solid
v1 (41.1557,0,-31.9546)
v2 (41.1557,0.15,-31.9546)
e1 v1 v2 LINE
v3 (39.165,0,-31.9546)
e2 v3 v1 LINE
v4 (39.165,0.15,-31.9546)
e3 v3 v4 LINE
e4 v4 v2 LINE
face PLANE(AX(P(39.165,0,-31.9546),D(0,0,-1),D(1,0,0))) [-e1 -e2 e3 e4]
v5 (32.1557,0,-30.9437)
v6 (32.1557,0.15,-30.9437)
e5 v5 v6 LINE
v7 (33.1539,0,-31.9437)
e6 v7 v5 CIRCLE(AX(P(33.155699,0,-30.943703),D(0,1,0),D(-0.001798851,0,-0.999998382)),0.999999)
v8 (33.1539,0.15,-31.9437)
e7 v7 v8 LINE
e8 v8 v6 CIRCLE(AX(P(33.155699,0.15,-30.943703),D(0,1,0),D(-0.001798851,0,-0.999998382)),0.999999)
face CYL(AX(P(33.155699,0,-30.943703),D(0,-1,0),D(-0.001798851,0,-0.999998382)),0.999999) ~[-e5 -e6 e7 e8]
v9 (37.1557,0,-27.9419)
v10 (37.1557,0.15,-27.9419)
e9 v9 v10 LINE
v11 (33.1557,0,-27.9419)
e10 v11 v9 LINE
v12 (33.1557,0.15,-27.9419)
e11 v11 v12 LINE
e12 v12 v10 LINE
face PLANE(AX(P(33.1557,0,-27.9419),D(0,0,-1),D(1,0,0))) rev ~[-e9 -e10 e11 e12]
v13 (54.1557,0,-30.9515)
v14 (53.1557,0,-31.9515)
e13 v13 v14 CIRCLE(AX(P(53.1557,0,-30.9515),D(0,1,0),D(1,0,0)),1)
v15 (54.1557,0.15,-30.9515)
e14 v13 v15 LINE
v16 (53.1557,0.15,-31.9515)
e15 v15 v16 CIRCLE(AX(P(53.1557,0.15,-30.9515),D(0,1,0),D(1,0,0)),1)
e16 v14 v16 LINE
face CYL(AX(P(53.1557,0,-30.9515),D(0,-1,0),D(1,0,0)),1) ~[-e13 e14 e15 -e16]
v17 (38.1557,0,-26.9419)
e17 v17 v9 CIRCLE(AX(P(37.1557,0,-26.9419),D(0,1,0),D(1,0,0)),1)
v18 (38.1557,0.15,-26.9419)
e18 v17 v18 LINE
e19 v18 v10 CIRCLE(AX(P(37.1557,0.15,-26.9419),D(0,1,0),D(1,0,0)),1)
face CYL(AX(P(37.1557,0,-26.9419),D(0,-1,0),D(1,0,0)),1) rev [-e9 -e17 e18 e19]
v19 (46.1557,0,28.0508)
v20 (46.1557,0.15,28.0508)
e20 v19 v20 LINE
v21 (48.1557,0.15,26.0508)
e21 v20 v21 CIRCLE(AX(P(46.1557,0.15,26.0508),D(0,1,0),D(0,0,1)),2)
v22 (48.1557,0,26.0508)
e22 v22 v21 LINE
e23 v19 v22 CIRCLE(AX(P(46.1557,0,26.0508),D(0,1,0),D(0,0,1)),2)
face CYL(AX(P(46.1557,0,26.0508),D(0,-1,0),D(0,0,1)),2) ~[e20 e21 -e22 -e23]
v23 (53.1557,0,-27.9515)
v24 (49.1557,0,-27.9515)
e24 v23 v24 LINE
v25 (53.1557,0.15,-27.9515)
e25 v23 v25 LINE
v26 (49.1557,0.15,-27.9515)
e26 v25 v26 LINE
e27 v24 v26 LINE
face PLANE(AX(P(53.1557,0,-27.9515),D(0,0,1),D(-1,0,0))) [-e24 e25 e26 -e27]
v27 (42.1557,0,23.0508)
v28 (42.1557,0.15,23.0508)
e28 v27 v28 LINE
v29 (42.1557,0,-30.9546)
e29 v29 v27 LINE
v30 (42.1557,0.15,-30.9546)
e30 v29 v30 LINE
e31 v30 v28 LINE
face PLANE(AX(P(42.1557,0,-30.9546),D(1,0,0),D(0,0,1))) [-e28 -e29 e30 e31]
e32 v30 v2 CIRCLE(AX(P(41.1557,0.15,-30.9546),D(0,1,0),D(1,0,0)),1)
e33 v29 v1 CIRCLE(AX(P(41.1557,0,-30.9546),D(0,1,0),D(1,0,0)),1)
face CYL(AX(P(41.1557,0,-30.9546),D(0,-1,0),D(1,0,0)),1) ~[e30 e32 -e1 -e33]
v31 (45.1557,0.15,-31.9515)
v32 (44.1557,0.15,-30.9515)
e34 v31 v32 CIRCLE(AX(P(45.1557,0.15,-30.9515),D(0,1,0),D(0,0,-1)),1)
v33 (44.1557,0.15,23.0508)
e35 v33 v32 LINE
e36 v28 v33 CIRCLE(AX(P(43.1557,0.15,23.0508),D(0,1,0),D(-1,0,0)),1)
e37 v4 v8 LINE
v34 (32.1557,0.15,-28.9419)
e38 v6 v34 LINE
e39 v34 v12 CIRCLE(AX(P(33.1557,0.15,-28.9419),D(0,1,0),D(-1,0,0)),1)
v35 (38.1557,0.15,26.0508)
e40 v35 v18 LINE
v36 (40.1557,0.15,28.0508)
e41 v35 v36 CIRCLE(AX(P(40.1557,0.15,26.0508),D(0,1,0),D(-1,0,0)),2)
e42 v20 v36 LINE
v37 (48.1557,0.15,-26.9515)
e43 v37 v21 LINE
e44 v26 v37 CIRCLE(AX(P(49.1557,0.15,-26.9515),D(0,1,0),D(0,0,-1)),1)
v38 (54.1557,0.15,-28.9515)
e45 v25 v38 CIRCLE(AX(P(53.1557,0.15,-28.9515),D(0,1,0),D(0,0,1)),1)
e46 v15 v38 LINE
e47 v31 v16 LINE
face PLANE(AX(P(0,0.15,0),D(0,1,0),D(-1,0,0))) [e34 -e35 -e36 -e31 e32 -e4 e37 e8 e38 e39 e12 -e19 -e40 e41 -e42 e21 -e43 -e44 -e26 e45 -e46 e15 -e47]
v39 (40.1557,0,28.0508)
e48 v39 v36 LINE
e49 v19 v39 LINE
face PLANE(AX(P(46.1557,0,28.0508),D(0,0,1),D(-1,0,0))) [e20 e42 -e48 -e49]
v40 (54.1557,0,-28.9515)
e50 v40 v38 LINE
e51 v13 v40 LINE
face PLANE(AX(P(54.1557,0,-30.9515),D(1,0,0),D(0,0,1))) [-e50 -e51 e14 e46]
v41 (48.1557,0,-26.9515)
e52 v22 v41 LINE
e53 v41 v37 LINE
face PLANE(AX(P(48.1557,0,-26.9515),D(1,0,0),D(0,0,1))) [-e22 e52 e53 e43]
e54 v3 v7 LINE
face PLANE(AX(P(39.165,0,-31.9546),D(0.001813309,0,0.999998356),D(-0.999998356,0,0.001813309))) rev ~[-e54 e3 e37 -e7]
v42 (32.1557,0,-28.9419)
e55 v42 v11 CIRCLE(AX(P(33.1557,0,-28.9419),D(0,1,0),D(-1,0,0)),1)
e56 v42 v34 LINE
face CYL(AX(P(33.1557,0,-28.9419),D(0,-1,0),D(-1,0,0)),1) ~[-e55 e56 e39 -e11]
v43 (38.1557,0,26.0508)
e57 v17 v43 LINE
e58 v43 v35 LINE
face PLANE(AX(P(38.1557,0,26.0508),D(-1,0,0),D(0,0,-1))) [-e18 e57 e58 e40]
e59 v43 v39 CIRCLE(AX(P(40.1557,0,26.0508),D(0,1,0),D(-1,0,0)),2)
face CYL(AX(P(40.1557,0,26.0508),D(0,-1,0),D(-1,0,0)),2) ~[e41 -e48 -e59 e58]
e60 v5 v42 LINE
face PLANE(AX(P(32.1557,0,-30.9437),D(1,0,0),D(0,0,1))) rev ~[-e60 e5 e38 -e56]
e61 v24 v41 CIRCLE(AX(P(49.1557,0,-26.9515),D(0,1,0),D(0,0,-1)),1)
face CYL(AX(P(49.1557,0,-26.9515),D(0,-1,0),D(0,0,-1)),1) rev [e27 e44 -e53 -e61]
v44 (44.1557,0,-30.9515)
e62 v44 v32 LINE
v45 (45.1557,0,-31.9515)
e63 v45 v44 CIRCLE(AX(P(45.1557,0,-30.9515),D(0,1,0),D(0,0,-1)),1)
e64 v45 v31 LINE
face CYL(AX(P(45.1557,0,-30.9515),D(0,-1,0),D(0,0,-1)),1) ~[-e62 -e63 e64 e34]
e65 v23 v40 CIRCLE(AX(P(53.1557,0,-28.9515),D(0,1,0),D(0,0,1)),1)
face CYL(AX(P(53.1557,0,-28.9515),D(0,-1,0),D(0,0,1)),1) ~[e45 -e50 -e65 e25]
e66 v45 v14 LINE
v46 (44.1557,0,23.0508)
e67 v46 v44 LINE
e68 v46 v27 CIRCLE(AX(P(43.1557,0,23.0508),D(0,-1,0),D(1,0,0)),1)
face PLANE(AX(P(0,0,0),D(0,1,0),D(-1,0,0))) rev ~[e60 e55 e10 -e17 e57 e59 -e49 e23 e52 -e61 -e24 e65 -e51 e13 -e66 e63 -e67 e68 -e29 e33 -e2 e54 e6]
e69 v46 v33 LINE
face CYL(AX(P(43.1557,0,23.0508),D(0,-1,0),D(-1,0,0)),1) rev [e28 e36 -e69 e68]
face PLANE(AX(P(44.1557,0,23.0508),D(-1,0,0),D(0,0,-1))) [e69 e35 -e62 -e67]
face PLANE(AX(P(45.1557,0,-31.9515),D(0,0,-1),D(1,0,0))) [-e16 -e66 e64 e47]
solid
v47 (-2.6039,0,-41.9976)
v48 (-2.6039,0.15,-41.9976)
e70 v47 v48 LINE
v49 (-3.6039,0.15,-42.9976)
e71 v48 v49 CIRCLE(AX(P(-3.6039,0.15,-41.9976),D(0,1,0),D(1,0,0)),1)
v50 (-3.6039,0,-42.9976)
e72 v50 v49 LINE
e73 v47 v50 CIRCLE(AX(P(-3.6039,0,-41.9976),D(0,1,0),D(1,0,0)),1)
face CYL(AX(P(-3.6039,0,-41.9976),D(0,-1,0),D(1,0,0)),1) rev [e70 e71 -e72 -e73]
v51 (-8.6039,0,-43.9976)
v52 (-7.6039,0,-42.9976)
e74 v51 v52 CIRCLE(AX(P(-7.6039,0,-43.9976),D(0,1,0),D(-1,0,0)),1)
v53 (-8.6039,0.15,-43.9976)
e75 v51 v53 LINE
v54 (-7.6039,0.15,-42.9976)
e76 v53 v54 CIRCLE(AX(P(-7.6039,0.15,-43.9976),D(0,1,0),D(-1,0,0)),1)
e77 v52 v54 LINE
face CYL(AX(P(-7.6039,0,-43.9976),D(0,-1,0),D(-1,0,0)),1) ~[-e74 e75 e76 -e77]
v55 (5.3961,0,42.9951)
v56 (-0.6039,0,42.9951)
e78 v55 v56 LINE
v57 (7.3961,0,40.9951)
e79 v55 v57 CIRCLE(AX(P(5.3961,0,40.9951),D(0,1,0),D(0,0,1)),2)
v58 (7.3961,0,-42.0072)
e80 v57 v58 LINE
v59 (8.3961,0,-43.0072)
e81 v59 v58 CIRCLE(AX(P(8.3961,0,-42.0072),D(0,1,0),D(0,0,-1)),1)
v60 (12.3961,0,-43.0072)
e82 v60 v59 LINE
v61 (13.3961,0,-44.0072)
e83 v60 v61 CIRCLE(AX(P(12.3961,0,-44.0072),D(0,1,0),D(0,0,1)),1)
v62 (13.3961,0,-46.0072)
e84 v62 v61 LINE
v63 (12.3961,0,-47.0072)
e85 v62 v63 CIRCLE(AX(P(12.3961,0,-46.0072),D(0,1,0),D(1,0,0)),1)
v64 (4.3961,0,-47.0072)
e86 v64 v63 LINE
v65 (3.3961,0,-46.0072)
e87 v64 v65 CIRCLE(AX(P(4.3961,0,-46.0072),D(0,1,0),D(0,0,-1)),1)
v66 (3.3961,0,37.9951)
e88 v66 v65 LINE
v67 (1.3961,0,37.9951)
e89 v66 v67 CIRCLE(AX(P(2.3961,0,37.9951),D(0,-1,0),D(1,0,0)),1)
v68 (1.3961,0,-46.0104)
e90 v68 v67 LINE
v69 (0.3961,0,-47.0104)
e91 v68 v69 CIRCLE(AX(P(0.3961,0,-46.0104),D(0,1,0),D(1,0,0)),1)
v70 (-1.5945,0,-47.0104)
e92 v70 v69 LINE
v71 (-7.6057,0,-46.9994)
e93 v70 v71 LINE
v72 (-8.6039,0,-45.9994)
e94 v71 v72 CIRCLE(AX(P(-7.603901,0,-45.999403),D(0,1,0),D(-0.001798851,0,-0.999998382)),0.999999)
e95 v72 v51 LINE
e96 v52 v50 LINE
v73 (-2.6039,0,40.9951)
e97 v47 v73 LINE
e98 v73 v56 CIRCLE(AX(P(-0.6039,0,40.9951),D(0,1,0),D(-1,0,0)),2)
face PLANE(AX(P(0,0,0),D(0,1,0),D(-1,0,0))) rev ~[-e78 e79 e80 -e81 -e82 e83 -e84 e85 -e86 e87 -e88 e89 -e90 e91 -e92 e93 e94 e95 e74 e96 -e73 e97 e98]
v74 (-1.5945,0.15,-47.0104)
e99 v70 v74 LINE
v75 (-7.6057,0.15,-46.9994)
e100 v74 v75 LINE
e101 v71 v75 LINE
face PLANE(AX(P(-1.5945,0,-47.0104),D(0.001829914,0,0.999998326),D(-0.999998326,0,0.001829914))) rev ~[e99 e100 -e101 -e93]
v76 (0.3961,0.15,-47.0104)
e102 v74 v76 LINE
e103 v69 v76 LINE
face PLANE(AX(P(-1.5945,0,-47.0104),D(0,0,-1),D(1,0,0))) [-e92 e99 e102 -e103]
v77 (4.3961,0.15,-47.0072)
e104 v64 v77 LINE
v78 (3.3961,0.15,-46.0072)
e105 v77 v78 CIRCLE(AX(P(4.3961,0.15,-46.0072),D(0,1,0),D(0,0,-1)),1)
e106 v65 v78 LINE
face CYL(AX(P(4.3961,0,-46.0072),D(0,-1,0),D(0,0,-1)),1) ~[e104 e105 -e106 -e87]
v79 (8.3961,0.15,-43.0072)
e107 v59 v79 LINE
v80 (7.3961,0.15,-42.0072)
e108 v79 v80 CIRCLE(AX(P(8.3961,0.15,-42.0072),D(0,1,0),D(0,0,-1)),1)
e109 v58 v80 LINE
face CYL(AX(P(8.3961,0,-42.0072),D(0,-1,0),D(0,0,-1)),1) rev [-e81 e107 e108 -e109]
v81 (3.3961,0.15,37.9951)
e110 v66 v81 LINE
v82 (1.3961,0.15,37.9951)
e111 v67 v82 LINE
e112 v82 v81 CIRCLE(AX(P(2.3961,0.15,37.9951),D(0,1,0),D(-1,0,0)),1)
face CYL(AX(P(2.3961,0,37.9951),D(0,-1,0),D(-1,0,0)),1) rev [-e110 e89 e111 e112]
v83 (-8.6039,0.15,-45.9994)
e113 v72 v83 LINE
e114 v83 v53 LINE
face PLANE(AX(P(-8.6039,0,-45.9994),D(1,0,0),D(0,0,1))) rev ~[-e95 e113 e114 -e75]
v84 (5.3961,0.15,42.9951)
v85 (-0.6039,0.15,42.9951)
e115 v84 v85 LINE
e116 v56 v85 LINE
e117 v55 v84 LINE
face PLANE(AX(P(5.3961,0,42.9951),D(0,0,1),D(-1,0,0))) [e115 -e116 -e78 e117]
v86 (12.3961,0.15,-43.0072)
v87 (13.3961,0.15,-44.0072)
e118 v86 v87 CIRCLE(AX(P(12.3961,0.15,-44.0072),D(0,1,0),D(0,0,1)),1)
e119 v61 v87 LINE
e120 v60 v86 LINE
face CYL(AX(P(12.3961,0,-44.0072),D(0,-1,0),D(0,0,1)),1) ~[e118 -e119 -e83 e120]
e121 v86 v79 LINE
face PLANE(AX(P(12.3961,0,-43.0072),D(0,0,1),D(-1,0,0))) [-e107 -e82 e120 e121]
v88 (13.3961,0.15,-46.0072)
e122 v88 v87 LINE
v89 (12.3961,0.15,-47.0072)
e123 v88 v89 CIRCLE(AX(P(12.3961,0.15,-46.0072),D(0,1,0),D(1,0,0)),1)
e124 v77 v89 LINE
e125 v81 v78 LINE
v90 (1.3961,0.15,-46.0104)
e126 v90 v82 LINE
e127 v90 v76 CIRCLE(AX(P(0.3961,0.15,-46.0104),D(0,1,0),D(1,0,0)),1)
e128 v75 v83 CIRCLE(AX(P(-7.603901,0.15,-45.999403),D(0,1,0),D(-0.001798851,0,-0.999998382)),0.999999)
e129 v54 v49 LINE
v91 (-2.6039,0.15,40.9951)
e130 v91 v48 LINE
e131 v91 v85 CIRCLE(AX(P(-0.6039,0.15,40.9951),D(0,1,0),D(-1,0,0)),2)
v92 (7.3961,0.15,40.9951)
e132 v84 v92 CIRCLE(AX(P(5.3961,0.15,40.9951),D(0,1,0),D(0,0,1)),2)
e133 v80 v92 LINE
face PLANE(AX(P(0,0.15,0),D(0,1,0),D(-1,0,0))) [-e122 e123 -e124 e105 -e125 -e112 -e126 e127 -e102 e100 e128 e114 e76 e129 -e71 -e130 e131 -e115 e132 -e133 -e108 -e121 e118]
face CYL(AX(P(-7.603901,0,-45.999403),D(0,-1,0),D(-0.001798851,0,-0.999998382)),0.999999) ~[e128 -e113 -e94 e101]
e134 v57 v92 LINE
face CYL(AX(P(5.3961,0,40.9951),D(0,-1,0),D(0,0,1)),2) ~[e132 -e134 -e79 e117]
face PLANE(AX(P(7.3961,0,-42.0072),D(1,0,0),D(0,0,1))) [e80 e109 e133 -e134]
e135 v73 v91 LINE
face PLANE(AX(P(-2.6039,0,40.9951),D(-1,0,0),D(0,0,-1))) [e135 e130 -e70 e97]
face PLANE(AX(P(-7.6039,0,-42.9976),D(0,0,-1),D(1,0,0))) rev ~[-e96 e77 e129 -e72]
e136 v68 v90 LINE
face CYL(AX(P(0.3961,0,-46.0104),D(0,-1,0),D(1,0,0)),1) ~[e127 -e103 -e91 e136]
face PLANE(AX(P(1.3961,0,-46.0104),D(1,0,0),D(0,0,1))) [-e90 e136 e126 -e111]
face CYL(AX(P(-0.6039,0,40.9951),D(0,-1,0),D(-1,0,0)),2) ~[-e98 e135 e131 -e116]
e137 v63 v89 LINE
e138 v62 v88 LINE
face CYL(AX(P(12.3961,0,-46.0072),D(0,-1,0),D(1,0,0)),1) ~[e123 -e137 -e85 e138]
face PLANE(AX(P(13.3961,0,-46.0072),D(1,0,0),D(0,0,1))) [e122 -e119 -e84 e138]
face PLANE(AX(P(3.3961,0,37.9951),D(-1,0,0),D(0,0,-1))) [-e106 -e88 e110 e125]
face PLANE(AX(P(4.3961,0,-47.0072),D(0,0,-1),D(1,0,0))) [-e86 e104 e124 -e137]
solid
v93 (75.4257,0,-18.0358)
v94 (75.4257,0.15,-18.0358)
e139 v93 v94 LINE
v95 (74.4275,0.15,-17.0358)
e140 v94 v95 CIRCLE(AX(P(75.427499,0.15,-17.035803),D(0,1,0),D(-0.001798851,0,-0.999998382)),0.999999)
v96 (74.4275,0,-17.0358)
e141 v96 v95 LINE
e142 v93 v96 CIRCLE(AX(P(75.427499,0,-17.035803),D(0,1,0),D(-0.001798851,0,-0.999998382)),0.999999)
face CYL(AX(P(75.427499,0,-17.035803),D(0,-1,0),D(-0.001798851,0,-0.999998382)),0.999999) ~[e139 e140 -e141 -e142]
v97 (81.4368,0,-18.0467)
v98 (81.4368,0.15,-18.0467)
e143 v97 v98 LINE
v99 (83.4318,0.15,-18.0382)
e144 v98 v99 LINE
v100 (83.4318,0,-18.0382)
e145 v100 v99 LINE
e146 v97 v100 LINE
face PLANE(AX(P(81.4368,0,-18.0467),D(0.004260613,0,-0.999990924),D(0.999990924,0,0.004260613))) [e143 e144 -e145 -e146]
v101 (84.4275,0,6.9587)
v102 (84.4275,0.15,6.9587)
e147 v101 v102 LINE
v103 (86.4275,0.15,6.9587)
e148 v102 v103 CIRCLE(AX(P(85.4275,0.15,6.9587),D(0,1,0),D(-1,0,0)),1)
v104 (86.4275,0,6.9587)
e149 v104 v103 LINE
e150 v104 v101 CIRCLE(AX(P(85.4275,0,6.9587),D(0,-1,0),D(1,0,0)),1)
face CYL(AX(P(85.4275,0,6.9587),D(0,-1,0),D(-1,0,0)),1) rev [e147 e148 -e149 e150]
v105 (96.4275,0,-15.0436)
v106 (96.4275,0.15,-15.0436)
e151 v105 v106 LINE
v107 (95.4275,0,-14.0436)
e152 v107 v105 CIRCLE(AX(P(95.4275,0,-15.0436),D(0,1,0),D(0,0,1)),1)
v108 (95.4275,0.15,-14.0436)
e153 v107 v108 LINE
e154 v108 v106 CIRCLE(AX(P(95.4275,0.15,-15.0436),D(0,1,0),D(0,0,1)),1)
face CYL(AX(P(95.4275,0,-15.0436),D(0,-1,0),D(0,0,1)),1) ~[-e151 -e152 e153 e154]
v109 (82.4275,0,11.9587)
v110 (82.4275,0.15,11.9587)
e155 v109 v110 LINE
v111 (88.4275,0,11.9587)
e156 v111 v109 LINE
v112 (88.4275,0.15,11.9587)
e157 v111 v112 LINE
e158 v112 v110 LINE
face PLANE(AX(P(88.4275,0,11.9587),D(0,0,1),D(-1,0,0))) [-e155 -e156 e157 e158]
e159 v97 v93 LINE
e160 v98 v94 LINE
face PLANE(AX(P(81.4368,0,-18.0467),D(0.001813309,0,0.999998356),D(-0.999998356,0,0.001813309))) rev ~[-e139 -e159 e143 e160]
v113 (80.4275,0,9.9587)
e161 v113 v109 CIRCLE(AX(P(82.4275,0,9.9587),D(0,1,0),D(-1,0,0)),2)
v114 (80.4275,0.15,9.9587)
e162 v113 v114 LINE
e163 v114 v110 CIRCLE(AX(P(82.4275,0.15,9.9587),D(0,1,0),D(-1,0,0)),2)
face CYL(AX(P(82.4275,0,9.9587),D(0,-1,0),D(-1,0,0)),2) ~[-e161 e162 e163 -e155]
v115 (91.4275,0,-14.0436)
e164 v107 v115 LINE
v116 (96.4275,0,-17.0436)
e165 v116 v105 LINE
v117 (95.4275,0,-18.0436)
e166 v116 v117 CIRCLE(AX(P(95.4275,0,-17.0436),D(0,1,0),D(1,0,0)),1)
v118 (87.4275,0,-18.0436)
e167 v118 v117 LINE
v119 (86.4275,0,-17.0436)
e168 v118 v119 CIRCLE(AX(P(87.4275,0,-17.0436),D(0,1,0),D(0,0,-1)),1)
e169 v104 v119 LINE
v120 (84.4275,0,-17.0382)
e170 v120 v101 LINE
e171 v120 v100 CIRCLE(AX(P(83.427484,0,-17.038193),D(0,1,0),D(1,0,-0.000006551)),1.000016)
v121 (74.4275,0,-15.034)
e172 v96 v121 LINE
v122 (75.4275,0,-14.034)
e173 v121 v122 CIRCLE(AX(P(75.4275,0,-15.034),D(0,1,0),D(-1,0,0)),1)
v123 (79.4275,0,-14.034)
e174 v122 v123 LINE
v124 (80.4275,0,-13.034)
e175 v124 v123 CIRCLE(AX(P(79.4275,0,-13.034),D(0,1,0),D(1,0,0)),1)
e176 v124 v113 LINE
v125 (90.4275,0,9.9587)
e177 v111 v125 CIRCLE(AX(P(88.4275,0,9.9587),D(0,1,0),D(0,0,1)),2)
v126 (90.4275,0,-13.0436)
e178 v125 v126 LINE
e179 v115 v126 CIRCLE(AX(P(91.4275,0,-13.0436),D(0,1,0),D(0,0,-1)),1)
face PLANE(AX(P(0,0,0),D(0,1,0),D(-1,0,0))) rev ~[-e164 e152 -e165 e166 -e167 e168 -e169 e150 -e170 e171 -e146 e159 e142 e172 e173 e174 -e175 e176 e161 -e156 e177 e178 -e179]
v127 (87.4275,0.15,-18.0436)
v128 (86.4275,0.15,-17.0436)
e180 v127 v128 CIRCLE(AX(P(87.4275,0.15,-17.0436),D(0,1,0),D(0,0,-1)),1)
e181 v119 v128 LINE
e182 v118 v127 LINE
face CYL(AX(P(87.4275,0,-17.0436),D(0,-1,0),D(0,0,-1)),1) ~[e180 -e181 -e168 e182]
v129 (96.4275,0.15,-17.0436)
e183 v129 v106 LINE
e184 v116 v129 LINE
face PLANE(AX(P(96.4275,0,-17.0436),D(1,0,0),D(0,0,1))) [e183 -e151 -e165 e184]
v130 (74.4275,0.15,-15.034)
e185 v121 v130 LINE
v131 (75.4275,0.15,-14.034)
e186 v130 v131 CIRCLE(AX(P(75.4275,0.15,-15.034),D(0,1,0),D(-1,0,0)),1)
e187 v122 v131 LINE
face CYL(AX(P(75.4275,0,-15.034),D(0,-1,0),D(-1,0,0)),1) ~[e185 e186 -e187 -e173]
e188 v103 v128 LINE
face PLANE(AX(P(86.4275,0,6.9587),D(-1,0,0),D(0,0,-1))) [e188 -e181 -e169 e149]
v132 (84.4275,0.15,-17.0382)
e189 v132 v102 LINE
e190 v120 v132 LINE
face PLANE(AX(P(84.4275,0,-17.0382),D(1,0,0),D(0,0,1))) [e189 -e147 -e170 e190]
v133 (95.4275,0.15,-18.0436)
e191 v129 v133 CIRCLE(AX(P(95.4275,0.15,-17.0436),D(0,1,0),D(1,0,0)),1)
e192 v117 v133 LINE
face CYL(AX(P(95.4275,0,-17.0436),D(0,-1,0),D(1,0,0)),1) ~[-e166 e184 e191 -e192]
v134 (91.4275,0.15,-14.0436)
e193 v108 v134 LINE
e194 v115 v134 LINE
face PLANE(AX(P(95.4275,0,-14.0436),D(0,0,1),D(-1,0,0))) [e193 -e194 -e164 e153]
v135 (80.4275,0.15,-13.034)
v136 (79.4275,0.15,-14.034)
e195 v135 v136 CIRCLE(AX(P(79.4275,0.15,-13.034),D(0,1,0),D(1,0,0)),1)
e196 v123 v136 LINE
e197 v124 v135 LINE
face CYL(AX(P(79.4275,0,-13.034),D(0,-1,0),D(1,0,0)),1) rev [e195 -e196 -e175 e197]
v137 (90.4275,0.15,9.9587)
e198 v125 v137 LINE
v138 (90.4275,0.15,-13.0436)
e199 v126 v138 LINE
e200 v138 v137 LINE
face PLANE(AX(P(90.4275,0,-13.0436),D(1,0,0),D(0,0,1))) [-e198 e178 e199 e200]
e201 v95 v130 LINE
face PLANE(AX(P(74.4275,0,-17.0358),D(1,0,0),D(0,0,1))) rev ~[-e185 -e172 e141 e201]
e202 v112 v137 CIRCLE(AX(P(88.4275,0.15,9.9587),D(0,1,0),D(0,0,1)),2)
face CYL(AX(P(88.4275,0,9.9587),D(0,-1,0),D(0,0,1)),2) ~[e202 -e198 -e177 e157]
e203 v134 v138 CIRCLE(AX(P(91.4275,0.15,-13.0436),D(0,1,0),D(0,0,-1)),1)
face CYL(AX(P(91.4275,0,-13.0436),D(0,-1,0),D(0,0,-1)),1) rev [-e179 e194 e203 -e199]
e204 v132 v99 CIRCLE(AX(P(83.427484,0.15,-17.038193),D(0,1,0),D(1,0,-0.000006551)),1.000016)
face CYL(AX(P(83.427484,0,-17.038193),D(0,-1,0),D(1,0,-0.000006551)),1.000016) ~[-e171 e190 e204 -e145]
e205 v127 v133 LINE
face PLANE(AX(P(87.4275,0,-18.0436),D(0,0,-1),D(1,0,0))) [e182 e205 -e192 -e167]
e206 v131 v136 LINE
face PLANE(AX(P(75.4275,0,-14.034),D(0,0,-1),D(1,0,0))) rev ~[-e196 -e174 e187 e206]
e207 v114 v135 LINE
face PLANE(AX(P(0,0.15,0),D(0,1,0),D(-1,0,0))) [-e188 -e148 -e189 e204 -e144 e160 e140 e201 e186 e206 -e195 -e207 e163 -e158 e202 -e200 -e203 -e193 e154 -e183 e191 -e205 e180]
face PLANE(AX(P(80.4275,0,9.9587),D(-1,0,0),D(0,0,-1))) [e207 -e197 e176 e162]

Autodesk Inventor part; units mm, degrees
ref_plane "YZ Plane" through (0, 0, 0) normal (1, 0, 0) x (0, 1, 0)
ref_plane "XZ Plane" through (0, 0, 0) normal (0, 1, 0) x (-1, 0, 0)
ref_plane "XY Plane" through (0, 0, 0) normal (0, 0, 1) x (1, 0, 0)
sketch "Sketch1" plane through (0, 0, 0) normal (0, 1, 0) x (-1, 0, 0)
  arc A0 (-5.3961, 42.9951) -> (-7.3961, 40.9951) centre (-5.3961, 40.9951) ccw
  arc A1 (2.6039, 40.9951) -> (0.6039, 42.9951) centre (0.6039, 40.9951) ccw
  line L0 (-5.3961, 42.9951) -> (0.6039, 42.9951)
  line L1 (-2.3961, 38.9951) -> (-2.3961, 38.9951)
  arc A2 (-2.3961, 38.9951) -> (-3.3961, 37.9951) centre (-2.3961, 37.9951) ccw
  arc A3 (-1.3961, 37.9951) -> (-2.3961, 38.9951) centre (-2.3961, 37.9951) ccw
  line L2 (2.6039, 40.9951) -> (2.6039, -38.9794)
  line L3 (-7.3961, 40.9951) -> (-7.3961, -39.0072)
  line L4 (2.6039, -41.9976) -> (2.6039, -35.4252)
  line L5 (-7.3961, -42.0072) -> (-7.3961, -39.0072)
  arc A4 (-8.3961, -43.0072) -> (-7.3961, -42.0072) centre (-8.3961, -42.0072) ccw
  line L6 (-3.3961, 37.9951) -> (-3.3961, -46.0072)
  line L7 (-1.3961, -46.0104) -> (-1.3961, 37.9951)
  line L8 (-4.3961, -47.0072) -> (-12.3961, -47.0072)
  line L9 (-12.3961, -43.0072) -> (-8.3961, -43.0072)
  arc A5 (-12.3961, -43.0072) -> (-13.3961, -44.0072) centre (-12.3961, -44.0072) ccw
  line L10 (-13.3961, -46.0072) -> (-13.3961, -44.0072)
  arc A6 (-13.3961, -46.0072) -> (-12.3961, -47.0072) centre (-12.3961, -46.0072) ccw
  arc A7 (-1.3961, -46.0104) -> (-0.3961, -47.0104) centre (-0.3961, -46.0104) ccw
  arc A8 (-4.3961, -47.0072) -> (-3.3961, -46.0072) centre (-4.3961, -46.0072) ccw
  line L11 (1.5945, -47.0104) -> (-0.3961, -47.0104)
  line L12 (1.5945, -47.0104) -> (7.6057, -46.9994)
  line L13 (8.6039, -45.9994) -> (8.6039, -43.9976)
  line L14 (7.6039, -42.9976) -> (3.6039, -42.9976)
  arc A9 (7.6057, -46.9994) -> (8.6039, -45.9994) centre (7.6039, -45.9994) ccw
  arc A10 (8.6039, -43.9976) -> (7.6039, -42.9976) centre (7.6039, -43.9976) ccw
  arc A11 (2.6039, -41.9976) -> (3.6039, -42.9976) centre (3.6039, -41.9976) ccw
  arc A12 (-42.1557, -30.9546) -> (-41.1557, -31.9546) centre (-41.1557, -30.9546) ccw
  line L15 (-39.165, -31.9546) -> (-41.1557, -31.9546)
  line L16 (-38.1557, -26.9419) -> (-38.1557, -20.3695)
  arc A13 (-38.1557, -26.9419) -> (-37.1557, -27.9419) centre (-37.1557, -26.9419) ccw
  line L17 (-39.165, -31.9546) -> (-33.1539, -31.9437)
  line L18 (-33.1557, -27.9419) -> (-37.1557, -27.9419)
  arc A14 (-32.1557, -28.9419) -> (-33.1557, -27.9419) centre (-33.1557, -28.9419) ccw
  line L19 (-32.1557, -30.9437) -> (-32.1557, -28.9419)
  arc A15 (-33.1539, -31.9437) -> (-32.1557, -30.9437) centre (-33.1557, -30.9437) ccw
  arc A16 (-45.1557, -31.9515) -> (-44.1557, -30.9515) centre (-45.1557, -30.9515) ccw
  line L20 (-45.1557, -31.9515) -> (-53.1557, -31.9515)
  line L21 (-54.1557, -30.9515) -> (-54.1557, -28.9515)
  line L22 (-53.1557, -27.9515) -> (-49.1557, -27.9515)
  line L23 (-48.1557, -26.9515) -> (-48.1557, -23.9515)
  arc A17 (-49.1557, -27.9515) -> (-48.1557, -26.9515) centre (-49.1557, -26.9515) ccw
  arc A18 (-54.1557, -30.9515) -> (-53.1557, -31.9515) centre (-53.1557, -30.9515) ccw
  arc A19 (-53.1557, -27.9515) -> (-54.1557, -28.9515) centre (-53.1557, -28.9515) ccw
  line L24 (-44.1557, 23.0508) -> (-44.1557, -30.9515)
  line L25 (-42.1557, -30.9546) -> (-42.1557, 23.0508)
  line L26 (-43.1557, 24.0508) -> (-43.1557, 24.0508)
  line L27 (-48.1557, 26.0508) -> (-48.1557, -23.9515)
  line L28 (-46.1557, 28.0508) -> (-40.1557, 28.0508)
  line L29 (-38.1557, 26.0508) -> (-38.1557, -23.9237)
  arc A20 (-46.1557, 28.0508) -> (-48.1557, 26.0508) centre (-46.1557, 26.0508) ccw
  arc A21 (-38.1557, 26.0508) -> (-40.1557, 28.0508) centre (-40.1557, 26.0508) ccw
  arc A22 (-42.1557, 23.0508) -> (-43.1557, 24.0508) centre (-43.1557, 23.0508) ccw
  arc A23 (-43.1557, 24.0508) -> (-44.1557, 23.0508) centre (-43.1557, 23.0508) ccw
  line L30 (-81.4368, -18.0467) -> (-83.4318, -18.0382)
  line L31 (-87.4275, -18.0436) -> (-95.4275, -18.0436)
  line L32 (-81.4368, -18.0467) -> (-75.4257, -18.0358)
  line L33 (-86.4275, 6.9587) -> (-86.4275, -17.0436)
  line L34 (-84.4275, -17.0382) -> (-84.4275, 6.9587)
  line L35 (-85.4275, 7.9587) -> (-85.4275, 7.9587)
  line L36 (-90.4275, 9.9587) -> (-90.4275, -10.0436)
  line L37 (-88.4275, 11.9587) -> (-82.4275, 11.9587)
  line L38 (-80.4275, 9.9587) -> (-80.4275, -10.0158)
  arc A24 (-88.4275, 11.9587) -> (-90.4275, 9.9587) centre (-88.4275, 9.9587) ccw
  arc A25 (-80.4275, 9.9587) -> (-82.4275, 11.9587) centre (-82.4275, 9.9587) ccw
  line L39 (-74.4275, -17.0358) -> (-74.4275, -15.034)
  line L40 (-75.4275, -14.034) -> (-79.4275, -14.034)
  line L41 (-80.4275, -13.034) -> (-80.4275, -6.4616)
  line L42 (-96.4275, -17.0436) -> (-96.4275, -15.0436)
  line L43 (-95.4275, -14.0436) -> (-91.4275, -14.0436)
  line L44 (-90.4275, -13.0436) -> (-90.4275, -10.0436)
  arc A26 (-91.4275, -14.0436) -> (-90.4275, -13.0436) centre (-91.4275, -13.0436) ccw
  arc A27 (-95.4275, -14.0436) -> (-96.4275, -15.0436) centre (-95.4275, -15.0436) ccw
  arc A28 (-96.4275, -17.0436) -> (-95.4275, -18.0436) centre (-95.4275, -17.0436) ccw
  arc A29 (-87.4275, -18.0436) -> (-86.4275, -17.0436) centre (-87.4275, -17.0436) ccw
  arc A30 (-84.4275, -17.0382) -> (-83.4318, -18.0382) centre (-83.4275, -17.0382) ccw
  arc A31 (-75.4257, -18.0358) -> (-74.4275, -17.0358) centre (-75.4275, -17.0358) ccw
  arc A32 (-74.4275, -15.034) -> (-75.4275, -14.034) centre (-75.4275, -15.034) ccw
  arc A33 (-80.4275, -13.034) -> (-79.4275, -14.034) centre (-79.4275, -13.034) ccw
  arc A34 (-85.4275, 7.9587) -> (-86.4275, 6.9587) centre (-85.4275, 6.9587) ccw
  arc A35 (-84.4275, 6.9587) -> (-85.4275, 7.9587) centre (-85.4275, 6.9587) ccw
  point P0 (0, 0)
  point P1 (1.3964, -43.0157)
  point P2 (-2.3961, 38.9951)
  point P3 (2.2842, -26.5744)
  point P4 (-1.3961, -47.0104)
  point P5 (-13.3961, -47.0072)
  point P6 (-13.3961, -43.0072)
  point P7 (4.6001, -47.0049)
  point P8 (8.6039, -46.9976)
  point P9 (8.6039, -42.9976)
  point P10 (-40.3838, -15.9392)
  point P11 (-42.1557, -31.9546)
  point P12 (-36.1594, -31.9492)
  point P13 (-32.1557, -31.9419)
  point P14 (-32.1557, -27.9419)
  point P15 (-54.1557, -31.9515)
  point P16 (-54.1557, -27.9515)
  point P17 (-38.4753, -11.5187)
  point P18 (-43.1557, 24.0508)
  point P19 (-43.1557, 28.0508)
  point P20 (-80.7471, 2.3892)
  point P21 (-84.4275, -18.034)
  point P22 (-78.4312, -18.0413)
  point P23 (-96.4275, -18.0436)
  point P24 (-74.4275, -18.034)
  point P25 (-85.4275, 11.9587)
  point P26 (-74.4275, -14.034)
  point P27 (-96.4275, -14.0436)
  point P28 (-80.4275, -10.0158)
  point P29 (-85.4275, 7.9587)
  point P30 (-43.1557, 24.0508)
  dimension "d0" = 10
  dimension "d1" = 4
  dimension "d2" = 4
  dimension "d3" = 2
  dimension "d5" = 90
  dimension "d6" = 2
  dimension "d7" = 4
  dimension "d8" = 4
  dimension "d9" = 1
  dimension "d10" = 1
  dimension "d11" = 10
  dimension "d12" = 4
  dimension "d13" = 4
  dimension "d14" = 2
  dimension "d15" = 4
  dimension "d16" = 60
  dimension "d17" = 2
  dimension "d18" = 4
  dimension "d19" = 4
  dimension "d20" = 1
  dimension "d21" = 1
  dimension "d22" = 10
  dimension "d23" = 4
  dimension "d24" = 4
  dimension "d25" = 2
  dimension "d26" = 4
  dimension "d27" = 30
  dimension "d28" = 2
  dimension "d29" = 4
  dimension "d30" = 4
  dimension "d31" = 1
  dimension "d32" = 1
extrude "Extrusion1" add sketch "Sketch1" along normal blind 0.15
properties part number "SensoriColorati"
